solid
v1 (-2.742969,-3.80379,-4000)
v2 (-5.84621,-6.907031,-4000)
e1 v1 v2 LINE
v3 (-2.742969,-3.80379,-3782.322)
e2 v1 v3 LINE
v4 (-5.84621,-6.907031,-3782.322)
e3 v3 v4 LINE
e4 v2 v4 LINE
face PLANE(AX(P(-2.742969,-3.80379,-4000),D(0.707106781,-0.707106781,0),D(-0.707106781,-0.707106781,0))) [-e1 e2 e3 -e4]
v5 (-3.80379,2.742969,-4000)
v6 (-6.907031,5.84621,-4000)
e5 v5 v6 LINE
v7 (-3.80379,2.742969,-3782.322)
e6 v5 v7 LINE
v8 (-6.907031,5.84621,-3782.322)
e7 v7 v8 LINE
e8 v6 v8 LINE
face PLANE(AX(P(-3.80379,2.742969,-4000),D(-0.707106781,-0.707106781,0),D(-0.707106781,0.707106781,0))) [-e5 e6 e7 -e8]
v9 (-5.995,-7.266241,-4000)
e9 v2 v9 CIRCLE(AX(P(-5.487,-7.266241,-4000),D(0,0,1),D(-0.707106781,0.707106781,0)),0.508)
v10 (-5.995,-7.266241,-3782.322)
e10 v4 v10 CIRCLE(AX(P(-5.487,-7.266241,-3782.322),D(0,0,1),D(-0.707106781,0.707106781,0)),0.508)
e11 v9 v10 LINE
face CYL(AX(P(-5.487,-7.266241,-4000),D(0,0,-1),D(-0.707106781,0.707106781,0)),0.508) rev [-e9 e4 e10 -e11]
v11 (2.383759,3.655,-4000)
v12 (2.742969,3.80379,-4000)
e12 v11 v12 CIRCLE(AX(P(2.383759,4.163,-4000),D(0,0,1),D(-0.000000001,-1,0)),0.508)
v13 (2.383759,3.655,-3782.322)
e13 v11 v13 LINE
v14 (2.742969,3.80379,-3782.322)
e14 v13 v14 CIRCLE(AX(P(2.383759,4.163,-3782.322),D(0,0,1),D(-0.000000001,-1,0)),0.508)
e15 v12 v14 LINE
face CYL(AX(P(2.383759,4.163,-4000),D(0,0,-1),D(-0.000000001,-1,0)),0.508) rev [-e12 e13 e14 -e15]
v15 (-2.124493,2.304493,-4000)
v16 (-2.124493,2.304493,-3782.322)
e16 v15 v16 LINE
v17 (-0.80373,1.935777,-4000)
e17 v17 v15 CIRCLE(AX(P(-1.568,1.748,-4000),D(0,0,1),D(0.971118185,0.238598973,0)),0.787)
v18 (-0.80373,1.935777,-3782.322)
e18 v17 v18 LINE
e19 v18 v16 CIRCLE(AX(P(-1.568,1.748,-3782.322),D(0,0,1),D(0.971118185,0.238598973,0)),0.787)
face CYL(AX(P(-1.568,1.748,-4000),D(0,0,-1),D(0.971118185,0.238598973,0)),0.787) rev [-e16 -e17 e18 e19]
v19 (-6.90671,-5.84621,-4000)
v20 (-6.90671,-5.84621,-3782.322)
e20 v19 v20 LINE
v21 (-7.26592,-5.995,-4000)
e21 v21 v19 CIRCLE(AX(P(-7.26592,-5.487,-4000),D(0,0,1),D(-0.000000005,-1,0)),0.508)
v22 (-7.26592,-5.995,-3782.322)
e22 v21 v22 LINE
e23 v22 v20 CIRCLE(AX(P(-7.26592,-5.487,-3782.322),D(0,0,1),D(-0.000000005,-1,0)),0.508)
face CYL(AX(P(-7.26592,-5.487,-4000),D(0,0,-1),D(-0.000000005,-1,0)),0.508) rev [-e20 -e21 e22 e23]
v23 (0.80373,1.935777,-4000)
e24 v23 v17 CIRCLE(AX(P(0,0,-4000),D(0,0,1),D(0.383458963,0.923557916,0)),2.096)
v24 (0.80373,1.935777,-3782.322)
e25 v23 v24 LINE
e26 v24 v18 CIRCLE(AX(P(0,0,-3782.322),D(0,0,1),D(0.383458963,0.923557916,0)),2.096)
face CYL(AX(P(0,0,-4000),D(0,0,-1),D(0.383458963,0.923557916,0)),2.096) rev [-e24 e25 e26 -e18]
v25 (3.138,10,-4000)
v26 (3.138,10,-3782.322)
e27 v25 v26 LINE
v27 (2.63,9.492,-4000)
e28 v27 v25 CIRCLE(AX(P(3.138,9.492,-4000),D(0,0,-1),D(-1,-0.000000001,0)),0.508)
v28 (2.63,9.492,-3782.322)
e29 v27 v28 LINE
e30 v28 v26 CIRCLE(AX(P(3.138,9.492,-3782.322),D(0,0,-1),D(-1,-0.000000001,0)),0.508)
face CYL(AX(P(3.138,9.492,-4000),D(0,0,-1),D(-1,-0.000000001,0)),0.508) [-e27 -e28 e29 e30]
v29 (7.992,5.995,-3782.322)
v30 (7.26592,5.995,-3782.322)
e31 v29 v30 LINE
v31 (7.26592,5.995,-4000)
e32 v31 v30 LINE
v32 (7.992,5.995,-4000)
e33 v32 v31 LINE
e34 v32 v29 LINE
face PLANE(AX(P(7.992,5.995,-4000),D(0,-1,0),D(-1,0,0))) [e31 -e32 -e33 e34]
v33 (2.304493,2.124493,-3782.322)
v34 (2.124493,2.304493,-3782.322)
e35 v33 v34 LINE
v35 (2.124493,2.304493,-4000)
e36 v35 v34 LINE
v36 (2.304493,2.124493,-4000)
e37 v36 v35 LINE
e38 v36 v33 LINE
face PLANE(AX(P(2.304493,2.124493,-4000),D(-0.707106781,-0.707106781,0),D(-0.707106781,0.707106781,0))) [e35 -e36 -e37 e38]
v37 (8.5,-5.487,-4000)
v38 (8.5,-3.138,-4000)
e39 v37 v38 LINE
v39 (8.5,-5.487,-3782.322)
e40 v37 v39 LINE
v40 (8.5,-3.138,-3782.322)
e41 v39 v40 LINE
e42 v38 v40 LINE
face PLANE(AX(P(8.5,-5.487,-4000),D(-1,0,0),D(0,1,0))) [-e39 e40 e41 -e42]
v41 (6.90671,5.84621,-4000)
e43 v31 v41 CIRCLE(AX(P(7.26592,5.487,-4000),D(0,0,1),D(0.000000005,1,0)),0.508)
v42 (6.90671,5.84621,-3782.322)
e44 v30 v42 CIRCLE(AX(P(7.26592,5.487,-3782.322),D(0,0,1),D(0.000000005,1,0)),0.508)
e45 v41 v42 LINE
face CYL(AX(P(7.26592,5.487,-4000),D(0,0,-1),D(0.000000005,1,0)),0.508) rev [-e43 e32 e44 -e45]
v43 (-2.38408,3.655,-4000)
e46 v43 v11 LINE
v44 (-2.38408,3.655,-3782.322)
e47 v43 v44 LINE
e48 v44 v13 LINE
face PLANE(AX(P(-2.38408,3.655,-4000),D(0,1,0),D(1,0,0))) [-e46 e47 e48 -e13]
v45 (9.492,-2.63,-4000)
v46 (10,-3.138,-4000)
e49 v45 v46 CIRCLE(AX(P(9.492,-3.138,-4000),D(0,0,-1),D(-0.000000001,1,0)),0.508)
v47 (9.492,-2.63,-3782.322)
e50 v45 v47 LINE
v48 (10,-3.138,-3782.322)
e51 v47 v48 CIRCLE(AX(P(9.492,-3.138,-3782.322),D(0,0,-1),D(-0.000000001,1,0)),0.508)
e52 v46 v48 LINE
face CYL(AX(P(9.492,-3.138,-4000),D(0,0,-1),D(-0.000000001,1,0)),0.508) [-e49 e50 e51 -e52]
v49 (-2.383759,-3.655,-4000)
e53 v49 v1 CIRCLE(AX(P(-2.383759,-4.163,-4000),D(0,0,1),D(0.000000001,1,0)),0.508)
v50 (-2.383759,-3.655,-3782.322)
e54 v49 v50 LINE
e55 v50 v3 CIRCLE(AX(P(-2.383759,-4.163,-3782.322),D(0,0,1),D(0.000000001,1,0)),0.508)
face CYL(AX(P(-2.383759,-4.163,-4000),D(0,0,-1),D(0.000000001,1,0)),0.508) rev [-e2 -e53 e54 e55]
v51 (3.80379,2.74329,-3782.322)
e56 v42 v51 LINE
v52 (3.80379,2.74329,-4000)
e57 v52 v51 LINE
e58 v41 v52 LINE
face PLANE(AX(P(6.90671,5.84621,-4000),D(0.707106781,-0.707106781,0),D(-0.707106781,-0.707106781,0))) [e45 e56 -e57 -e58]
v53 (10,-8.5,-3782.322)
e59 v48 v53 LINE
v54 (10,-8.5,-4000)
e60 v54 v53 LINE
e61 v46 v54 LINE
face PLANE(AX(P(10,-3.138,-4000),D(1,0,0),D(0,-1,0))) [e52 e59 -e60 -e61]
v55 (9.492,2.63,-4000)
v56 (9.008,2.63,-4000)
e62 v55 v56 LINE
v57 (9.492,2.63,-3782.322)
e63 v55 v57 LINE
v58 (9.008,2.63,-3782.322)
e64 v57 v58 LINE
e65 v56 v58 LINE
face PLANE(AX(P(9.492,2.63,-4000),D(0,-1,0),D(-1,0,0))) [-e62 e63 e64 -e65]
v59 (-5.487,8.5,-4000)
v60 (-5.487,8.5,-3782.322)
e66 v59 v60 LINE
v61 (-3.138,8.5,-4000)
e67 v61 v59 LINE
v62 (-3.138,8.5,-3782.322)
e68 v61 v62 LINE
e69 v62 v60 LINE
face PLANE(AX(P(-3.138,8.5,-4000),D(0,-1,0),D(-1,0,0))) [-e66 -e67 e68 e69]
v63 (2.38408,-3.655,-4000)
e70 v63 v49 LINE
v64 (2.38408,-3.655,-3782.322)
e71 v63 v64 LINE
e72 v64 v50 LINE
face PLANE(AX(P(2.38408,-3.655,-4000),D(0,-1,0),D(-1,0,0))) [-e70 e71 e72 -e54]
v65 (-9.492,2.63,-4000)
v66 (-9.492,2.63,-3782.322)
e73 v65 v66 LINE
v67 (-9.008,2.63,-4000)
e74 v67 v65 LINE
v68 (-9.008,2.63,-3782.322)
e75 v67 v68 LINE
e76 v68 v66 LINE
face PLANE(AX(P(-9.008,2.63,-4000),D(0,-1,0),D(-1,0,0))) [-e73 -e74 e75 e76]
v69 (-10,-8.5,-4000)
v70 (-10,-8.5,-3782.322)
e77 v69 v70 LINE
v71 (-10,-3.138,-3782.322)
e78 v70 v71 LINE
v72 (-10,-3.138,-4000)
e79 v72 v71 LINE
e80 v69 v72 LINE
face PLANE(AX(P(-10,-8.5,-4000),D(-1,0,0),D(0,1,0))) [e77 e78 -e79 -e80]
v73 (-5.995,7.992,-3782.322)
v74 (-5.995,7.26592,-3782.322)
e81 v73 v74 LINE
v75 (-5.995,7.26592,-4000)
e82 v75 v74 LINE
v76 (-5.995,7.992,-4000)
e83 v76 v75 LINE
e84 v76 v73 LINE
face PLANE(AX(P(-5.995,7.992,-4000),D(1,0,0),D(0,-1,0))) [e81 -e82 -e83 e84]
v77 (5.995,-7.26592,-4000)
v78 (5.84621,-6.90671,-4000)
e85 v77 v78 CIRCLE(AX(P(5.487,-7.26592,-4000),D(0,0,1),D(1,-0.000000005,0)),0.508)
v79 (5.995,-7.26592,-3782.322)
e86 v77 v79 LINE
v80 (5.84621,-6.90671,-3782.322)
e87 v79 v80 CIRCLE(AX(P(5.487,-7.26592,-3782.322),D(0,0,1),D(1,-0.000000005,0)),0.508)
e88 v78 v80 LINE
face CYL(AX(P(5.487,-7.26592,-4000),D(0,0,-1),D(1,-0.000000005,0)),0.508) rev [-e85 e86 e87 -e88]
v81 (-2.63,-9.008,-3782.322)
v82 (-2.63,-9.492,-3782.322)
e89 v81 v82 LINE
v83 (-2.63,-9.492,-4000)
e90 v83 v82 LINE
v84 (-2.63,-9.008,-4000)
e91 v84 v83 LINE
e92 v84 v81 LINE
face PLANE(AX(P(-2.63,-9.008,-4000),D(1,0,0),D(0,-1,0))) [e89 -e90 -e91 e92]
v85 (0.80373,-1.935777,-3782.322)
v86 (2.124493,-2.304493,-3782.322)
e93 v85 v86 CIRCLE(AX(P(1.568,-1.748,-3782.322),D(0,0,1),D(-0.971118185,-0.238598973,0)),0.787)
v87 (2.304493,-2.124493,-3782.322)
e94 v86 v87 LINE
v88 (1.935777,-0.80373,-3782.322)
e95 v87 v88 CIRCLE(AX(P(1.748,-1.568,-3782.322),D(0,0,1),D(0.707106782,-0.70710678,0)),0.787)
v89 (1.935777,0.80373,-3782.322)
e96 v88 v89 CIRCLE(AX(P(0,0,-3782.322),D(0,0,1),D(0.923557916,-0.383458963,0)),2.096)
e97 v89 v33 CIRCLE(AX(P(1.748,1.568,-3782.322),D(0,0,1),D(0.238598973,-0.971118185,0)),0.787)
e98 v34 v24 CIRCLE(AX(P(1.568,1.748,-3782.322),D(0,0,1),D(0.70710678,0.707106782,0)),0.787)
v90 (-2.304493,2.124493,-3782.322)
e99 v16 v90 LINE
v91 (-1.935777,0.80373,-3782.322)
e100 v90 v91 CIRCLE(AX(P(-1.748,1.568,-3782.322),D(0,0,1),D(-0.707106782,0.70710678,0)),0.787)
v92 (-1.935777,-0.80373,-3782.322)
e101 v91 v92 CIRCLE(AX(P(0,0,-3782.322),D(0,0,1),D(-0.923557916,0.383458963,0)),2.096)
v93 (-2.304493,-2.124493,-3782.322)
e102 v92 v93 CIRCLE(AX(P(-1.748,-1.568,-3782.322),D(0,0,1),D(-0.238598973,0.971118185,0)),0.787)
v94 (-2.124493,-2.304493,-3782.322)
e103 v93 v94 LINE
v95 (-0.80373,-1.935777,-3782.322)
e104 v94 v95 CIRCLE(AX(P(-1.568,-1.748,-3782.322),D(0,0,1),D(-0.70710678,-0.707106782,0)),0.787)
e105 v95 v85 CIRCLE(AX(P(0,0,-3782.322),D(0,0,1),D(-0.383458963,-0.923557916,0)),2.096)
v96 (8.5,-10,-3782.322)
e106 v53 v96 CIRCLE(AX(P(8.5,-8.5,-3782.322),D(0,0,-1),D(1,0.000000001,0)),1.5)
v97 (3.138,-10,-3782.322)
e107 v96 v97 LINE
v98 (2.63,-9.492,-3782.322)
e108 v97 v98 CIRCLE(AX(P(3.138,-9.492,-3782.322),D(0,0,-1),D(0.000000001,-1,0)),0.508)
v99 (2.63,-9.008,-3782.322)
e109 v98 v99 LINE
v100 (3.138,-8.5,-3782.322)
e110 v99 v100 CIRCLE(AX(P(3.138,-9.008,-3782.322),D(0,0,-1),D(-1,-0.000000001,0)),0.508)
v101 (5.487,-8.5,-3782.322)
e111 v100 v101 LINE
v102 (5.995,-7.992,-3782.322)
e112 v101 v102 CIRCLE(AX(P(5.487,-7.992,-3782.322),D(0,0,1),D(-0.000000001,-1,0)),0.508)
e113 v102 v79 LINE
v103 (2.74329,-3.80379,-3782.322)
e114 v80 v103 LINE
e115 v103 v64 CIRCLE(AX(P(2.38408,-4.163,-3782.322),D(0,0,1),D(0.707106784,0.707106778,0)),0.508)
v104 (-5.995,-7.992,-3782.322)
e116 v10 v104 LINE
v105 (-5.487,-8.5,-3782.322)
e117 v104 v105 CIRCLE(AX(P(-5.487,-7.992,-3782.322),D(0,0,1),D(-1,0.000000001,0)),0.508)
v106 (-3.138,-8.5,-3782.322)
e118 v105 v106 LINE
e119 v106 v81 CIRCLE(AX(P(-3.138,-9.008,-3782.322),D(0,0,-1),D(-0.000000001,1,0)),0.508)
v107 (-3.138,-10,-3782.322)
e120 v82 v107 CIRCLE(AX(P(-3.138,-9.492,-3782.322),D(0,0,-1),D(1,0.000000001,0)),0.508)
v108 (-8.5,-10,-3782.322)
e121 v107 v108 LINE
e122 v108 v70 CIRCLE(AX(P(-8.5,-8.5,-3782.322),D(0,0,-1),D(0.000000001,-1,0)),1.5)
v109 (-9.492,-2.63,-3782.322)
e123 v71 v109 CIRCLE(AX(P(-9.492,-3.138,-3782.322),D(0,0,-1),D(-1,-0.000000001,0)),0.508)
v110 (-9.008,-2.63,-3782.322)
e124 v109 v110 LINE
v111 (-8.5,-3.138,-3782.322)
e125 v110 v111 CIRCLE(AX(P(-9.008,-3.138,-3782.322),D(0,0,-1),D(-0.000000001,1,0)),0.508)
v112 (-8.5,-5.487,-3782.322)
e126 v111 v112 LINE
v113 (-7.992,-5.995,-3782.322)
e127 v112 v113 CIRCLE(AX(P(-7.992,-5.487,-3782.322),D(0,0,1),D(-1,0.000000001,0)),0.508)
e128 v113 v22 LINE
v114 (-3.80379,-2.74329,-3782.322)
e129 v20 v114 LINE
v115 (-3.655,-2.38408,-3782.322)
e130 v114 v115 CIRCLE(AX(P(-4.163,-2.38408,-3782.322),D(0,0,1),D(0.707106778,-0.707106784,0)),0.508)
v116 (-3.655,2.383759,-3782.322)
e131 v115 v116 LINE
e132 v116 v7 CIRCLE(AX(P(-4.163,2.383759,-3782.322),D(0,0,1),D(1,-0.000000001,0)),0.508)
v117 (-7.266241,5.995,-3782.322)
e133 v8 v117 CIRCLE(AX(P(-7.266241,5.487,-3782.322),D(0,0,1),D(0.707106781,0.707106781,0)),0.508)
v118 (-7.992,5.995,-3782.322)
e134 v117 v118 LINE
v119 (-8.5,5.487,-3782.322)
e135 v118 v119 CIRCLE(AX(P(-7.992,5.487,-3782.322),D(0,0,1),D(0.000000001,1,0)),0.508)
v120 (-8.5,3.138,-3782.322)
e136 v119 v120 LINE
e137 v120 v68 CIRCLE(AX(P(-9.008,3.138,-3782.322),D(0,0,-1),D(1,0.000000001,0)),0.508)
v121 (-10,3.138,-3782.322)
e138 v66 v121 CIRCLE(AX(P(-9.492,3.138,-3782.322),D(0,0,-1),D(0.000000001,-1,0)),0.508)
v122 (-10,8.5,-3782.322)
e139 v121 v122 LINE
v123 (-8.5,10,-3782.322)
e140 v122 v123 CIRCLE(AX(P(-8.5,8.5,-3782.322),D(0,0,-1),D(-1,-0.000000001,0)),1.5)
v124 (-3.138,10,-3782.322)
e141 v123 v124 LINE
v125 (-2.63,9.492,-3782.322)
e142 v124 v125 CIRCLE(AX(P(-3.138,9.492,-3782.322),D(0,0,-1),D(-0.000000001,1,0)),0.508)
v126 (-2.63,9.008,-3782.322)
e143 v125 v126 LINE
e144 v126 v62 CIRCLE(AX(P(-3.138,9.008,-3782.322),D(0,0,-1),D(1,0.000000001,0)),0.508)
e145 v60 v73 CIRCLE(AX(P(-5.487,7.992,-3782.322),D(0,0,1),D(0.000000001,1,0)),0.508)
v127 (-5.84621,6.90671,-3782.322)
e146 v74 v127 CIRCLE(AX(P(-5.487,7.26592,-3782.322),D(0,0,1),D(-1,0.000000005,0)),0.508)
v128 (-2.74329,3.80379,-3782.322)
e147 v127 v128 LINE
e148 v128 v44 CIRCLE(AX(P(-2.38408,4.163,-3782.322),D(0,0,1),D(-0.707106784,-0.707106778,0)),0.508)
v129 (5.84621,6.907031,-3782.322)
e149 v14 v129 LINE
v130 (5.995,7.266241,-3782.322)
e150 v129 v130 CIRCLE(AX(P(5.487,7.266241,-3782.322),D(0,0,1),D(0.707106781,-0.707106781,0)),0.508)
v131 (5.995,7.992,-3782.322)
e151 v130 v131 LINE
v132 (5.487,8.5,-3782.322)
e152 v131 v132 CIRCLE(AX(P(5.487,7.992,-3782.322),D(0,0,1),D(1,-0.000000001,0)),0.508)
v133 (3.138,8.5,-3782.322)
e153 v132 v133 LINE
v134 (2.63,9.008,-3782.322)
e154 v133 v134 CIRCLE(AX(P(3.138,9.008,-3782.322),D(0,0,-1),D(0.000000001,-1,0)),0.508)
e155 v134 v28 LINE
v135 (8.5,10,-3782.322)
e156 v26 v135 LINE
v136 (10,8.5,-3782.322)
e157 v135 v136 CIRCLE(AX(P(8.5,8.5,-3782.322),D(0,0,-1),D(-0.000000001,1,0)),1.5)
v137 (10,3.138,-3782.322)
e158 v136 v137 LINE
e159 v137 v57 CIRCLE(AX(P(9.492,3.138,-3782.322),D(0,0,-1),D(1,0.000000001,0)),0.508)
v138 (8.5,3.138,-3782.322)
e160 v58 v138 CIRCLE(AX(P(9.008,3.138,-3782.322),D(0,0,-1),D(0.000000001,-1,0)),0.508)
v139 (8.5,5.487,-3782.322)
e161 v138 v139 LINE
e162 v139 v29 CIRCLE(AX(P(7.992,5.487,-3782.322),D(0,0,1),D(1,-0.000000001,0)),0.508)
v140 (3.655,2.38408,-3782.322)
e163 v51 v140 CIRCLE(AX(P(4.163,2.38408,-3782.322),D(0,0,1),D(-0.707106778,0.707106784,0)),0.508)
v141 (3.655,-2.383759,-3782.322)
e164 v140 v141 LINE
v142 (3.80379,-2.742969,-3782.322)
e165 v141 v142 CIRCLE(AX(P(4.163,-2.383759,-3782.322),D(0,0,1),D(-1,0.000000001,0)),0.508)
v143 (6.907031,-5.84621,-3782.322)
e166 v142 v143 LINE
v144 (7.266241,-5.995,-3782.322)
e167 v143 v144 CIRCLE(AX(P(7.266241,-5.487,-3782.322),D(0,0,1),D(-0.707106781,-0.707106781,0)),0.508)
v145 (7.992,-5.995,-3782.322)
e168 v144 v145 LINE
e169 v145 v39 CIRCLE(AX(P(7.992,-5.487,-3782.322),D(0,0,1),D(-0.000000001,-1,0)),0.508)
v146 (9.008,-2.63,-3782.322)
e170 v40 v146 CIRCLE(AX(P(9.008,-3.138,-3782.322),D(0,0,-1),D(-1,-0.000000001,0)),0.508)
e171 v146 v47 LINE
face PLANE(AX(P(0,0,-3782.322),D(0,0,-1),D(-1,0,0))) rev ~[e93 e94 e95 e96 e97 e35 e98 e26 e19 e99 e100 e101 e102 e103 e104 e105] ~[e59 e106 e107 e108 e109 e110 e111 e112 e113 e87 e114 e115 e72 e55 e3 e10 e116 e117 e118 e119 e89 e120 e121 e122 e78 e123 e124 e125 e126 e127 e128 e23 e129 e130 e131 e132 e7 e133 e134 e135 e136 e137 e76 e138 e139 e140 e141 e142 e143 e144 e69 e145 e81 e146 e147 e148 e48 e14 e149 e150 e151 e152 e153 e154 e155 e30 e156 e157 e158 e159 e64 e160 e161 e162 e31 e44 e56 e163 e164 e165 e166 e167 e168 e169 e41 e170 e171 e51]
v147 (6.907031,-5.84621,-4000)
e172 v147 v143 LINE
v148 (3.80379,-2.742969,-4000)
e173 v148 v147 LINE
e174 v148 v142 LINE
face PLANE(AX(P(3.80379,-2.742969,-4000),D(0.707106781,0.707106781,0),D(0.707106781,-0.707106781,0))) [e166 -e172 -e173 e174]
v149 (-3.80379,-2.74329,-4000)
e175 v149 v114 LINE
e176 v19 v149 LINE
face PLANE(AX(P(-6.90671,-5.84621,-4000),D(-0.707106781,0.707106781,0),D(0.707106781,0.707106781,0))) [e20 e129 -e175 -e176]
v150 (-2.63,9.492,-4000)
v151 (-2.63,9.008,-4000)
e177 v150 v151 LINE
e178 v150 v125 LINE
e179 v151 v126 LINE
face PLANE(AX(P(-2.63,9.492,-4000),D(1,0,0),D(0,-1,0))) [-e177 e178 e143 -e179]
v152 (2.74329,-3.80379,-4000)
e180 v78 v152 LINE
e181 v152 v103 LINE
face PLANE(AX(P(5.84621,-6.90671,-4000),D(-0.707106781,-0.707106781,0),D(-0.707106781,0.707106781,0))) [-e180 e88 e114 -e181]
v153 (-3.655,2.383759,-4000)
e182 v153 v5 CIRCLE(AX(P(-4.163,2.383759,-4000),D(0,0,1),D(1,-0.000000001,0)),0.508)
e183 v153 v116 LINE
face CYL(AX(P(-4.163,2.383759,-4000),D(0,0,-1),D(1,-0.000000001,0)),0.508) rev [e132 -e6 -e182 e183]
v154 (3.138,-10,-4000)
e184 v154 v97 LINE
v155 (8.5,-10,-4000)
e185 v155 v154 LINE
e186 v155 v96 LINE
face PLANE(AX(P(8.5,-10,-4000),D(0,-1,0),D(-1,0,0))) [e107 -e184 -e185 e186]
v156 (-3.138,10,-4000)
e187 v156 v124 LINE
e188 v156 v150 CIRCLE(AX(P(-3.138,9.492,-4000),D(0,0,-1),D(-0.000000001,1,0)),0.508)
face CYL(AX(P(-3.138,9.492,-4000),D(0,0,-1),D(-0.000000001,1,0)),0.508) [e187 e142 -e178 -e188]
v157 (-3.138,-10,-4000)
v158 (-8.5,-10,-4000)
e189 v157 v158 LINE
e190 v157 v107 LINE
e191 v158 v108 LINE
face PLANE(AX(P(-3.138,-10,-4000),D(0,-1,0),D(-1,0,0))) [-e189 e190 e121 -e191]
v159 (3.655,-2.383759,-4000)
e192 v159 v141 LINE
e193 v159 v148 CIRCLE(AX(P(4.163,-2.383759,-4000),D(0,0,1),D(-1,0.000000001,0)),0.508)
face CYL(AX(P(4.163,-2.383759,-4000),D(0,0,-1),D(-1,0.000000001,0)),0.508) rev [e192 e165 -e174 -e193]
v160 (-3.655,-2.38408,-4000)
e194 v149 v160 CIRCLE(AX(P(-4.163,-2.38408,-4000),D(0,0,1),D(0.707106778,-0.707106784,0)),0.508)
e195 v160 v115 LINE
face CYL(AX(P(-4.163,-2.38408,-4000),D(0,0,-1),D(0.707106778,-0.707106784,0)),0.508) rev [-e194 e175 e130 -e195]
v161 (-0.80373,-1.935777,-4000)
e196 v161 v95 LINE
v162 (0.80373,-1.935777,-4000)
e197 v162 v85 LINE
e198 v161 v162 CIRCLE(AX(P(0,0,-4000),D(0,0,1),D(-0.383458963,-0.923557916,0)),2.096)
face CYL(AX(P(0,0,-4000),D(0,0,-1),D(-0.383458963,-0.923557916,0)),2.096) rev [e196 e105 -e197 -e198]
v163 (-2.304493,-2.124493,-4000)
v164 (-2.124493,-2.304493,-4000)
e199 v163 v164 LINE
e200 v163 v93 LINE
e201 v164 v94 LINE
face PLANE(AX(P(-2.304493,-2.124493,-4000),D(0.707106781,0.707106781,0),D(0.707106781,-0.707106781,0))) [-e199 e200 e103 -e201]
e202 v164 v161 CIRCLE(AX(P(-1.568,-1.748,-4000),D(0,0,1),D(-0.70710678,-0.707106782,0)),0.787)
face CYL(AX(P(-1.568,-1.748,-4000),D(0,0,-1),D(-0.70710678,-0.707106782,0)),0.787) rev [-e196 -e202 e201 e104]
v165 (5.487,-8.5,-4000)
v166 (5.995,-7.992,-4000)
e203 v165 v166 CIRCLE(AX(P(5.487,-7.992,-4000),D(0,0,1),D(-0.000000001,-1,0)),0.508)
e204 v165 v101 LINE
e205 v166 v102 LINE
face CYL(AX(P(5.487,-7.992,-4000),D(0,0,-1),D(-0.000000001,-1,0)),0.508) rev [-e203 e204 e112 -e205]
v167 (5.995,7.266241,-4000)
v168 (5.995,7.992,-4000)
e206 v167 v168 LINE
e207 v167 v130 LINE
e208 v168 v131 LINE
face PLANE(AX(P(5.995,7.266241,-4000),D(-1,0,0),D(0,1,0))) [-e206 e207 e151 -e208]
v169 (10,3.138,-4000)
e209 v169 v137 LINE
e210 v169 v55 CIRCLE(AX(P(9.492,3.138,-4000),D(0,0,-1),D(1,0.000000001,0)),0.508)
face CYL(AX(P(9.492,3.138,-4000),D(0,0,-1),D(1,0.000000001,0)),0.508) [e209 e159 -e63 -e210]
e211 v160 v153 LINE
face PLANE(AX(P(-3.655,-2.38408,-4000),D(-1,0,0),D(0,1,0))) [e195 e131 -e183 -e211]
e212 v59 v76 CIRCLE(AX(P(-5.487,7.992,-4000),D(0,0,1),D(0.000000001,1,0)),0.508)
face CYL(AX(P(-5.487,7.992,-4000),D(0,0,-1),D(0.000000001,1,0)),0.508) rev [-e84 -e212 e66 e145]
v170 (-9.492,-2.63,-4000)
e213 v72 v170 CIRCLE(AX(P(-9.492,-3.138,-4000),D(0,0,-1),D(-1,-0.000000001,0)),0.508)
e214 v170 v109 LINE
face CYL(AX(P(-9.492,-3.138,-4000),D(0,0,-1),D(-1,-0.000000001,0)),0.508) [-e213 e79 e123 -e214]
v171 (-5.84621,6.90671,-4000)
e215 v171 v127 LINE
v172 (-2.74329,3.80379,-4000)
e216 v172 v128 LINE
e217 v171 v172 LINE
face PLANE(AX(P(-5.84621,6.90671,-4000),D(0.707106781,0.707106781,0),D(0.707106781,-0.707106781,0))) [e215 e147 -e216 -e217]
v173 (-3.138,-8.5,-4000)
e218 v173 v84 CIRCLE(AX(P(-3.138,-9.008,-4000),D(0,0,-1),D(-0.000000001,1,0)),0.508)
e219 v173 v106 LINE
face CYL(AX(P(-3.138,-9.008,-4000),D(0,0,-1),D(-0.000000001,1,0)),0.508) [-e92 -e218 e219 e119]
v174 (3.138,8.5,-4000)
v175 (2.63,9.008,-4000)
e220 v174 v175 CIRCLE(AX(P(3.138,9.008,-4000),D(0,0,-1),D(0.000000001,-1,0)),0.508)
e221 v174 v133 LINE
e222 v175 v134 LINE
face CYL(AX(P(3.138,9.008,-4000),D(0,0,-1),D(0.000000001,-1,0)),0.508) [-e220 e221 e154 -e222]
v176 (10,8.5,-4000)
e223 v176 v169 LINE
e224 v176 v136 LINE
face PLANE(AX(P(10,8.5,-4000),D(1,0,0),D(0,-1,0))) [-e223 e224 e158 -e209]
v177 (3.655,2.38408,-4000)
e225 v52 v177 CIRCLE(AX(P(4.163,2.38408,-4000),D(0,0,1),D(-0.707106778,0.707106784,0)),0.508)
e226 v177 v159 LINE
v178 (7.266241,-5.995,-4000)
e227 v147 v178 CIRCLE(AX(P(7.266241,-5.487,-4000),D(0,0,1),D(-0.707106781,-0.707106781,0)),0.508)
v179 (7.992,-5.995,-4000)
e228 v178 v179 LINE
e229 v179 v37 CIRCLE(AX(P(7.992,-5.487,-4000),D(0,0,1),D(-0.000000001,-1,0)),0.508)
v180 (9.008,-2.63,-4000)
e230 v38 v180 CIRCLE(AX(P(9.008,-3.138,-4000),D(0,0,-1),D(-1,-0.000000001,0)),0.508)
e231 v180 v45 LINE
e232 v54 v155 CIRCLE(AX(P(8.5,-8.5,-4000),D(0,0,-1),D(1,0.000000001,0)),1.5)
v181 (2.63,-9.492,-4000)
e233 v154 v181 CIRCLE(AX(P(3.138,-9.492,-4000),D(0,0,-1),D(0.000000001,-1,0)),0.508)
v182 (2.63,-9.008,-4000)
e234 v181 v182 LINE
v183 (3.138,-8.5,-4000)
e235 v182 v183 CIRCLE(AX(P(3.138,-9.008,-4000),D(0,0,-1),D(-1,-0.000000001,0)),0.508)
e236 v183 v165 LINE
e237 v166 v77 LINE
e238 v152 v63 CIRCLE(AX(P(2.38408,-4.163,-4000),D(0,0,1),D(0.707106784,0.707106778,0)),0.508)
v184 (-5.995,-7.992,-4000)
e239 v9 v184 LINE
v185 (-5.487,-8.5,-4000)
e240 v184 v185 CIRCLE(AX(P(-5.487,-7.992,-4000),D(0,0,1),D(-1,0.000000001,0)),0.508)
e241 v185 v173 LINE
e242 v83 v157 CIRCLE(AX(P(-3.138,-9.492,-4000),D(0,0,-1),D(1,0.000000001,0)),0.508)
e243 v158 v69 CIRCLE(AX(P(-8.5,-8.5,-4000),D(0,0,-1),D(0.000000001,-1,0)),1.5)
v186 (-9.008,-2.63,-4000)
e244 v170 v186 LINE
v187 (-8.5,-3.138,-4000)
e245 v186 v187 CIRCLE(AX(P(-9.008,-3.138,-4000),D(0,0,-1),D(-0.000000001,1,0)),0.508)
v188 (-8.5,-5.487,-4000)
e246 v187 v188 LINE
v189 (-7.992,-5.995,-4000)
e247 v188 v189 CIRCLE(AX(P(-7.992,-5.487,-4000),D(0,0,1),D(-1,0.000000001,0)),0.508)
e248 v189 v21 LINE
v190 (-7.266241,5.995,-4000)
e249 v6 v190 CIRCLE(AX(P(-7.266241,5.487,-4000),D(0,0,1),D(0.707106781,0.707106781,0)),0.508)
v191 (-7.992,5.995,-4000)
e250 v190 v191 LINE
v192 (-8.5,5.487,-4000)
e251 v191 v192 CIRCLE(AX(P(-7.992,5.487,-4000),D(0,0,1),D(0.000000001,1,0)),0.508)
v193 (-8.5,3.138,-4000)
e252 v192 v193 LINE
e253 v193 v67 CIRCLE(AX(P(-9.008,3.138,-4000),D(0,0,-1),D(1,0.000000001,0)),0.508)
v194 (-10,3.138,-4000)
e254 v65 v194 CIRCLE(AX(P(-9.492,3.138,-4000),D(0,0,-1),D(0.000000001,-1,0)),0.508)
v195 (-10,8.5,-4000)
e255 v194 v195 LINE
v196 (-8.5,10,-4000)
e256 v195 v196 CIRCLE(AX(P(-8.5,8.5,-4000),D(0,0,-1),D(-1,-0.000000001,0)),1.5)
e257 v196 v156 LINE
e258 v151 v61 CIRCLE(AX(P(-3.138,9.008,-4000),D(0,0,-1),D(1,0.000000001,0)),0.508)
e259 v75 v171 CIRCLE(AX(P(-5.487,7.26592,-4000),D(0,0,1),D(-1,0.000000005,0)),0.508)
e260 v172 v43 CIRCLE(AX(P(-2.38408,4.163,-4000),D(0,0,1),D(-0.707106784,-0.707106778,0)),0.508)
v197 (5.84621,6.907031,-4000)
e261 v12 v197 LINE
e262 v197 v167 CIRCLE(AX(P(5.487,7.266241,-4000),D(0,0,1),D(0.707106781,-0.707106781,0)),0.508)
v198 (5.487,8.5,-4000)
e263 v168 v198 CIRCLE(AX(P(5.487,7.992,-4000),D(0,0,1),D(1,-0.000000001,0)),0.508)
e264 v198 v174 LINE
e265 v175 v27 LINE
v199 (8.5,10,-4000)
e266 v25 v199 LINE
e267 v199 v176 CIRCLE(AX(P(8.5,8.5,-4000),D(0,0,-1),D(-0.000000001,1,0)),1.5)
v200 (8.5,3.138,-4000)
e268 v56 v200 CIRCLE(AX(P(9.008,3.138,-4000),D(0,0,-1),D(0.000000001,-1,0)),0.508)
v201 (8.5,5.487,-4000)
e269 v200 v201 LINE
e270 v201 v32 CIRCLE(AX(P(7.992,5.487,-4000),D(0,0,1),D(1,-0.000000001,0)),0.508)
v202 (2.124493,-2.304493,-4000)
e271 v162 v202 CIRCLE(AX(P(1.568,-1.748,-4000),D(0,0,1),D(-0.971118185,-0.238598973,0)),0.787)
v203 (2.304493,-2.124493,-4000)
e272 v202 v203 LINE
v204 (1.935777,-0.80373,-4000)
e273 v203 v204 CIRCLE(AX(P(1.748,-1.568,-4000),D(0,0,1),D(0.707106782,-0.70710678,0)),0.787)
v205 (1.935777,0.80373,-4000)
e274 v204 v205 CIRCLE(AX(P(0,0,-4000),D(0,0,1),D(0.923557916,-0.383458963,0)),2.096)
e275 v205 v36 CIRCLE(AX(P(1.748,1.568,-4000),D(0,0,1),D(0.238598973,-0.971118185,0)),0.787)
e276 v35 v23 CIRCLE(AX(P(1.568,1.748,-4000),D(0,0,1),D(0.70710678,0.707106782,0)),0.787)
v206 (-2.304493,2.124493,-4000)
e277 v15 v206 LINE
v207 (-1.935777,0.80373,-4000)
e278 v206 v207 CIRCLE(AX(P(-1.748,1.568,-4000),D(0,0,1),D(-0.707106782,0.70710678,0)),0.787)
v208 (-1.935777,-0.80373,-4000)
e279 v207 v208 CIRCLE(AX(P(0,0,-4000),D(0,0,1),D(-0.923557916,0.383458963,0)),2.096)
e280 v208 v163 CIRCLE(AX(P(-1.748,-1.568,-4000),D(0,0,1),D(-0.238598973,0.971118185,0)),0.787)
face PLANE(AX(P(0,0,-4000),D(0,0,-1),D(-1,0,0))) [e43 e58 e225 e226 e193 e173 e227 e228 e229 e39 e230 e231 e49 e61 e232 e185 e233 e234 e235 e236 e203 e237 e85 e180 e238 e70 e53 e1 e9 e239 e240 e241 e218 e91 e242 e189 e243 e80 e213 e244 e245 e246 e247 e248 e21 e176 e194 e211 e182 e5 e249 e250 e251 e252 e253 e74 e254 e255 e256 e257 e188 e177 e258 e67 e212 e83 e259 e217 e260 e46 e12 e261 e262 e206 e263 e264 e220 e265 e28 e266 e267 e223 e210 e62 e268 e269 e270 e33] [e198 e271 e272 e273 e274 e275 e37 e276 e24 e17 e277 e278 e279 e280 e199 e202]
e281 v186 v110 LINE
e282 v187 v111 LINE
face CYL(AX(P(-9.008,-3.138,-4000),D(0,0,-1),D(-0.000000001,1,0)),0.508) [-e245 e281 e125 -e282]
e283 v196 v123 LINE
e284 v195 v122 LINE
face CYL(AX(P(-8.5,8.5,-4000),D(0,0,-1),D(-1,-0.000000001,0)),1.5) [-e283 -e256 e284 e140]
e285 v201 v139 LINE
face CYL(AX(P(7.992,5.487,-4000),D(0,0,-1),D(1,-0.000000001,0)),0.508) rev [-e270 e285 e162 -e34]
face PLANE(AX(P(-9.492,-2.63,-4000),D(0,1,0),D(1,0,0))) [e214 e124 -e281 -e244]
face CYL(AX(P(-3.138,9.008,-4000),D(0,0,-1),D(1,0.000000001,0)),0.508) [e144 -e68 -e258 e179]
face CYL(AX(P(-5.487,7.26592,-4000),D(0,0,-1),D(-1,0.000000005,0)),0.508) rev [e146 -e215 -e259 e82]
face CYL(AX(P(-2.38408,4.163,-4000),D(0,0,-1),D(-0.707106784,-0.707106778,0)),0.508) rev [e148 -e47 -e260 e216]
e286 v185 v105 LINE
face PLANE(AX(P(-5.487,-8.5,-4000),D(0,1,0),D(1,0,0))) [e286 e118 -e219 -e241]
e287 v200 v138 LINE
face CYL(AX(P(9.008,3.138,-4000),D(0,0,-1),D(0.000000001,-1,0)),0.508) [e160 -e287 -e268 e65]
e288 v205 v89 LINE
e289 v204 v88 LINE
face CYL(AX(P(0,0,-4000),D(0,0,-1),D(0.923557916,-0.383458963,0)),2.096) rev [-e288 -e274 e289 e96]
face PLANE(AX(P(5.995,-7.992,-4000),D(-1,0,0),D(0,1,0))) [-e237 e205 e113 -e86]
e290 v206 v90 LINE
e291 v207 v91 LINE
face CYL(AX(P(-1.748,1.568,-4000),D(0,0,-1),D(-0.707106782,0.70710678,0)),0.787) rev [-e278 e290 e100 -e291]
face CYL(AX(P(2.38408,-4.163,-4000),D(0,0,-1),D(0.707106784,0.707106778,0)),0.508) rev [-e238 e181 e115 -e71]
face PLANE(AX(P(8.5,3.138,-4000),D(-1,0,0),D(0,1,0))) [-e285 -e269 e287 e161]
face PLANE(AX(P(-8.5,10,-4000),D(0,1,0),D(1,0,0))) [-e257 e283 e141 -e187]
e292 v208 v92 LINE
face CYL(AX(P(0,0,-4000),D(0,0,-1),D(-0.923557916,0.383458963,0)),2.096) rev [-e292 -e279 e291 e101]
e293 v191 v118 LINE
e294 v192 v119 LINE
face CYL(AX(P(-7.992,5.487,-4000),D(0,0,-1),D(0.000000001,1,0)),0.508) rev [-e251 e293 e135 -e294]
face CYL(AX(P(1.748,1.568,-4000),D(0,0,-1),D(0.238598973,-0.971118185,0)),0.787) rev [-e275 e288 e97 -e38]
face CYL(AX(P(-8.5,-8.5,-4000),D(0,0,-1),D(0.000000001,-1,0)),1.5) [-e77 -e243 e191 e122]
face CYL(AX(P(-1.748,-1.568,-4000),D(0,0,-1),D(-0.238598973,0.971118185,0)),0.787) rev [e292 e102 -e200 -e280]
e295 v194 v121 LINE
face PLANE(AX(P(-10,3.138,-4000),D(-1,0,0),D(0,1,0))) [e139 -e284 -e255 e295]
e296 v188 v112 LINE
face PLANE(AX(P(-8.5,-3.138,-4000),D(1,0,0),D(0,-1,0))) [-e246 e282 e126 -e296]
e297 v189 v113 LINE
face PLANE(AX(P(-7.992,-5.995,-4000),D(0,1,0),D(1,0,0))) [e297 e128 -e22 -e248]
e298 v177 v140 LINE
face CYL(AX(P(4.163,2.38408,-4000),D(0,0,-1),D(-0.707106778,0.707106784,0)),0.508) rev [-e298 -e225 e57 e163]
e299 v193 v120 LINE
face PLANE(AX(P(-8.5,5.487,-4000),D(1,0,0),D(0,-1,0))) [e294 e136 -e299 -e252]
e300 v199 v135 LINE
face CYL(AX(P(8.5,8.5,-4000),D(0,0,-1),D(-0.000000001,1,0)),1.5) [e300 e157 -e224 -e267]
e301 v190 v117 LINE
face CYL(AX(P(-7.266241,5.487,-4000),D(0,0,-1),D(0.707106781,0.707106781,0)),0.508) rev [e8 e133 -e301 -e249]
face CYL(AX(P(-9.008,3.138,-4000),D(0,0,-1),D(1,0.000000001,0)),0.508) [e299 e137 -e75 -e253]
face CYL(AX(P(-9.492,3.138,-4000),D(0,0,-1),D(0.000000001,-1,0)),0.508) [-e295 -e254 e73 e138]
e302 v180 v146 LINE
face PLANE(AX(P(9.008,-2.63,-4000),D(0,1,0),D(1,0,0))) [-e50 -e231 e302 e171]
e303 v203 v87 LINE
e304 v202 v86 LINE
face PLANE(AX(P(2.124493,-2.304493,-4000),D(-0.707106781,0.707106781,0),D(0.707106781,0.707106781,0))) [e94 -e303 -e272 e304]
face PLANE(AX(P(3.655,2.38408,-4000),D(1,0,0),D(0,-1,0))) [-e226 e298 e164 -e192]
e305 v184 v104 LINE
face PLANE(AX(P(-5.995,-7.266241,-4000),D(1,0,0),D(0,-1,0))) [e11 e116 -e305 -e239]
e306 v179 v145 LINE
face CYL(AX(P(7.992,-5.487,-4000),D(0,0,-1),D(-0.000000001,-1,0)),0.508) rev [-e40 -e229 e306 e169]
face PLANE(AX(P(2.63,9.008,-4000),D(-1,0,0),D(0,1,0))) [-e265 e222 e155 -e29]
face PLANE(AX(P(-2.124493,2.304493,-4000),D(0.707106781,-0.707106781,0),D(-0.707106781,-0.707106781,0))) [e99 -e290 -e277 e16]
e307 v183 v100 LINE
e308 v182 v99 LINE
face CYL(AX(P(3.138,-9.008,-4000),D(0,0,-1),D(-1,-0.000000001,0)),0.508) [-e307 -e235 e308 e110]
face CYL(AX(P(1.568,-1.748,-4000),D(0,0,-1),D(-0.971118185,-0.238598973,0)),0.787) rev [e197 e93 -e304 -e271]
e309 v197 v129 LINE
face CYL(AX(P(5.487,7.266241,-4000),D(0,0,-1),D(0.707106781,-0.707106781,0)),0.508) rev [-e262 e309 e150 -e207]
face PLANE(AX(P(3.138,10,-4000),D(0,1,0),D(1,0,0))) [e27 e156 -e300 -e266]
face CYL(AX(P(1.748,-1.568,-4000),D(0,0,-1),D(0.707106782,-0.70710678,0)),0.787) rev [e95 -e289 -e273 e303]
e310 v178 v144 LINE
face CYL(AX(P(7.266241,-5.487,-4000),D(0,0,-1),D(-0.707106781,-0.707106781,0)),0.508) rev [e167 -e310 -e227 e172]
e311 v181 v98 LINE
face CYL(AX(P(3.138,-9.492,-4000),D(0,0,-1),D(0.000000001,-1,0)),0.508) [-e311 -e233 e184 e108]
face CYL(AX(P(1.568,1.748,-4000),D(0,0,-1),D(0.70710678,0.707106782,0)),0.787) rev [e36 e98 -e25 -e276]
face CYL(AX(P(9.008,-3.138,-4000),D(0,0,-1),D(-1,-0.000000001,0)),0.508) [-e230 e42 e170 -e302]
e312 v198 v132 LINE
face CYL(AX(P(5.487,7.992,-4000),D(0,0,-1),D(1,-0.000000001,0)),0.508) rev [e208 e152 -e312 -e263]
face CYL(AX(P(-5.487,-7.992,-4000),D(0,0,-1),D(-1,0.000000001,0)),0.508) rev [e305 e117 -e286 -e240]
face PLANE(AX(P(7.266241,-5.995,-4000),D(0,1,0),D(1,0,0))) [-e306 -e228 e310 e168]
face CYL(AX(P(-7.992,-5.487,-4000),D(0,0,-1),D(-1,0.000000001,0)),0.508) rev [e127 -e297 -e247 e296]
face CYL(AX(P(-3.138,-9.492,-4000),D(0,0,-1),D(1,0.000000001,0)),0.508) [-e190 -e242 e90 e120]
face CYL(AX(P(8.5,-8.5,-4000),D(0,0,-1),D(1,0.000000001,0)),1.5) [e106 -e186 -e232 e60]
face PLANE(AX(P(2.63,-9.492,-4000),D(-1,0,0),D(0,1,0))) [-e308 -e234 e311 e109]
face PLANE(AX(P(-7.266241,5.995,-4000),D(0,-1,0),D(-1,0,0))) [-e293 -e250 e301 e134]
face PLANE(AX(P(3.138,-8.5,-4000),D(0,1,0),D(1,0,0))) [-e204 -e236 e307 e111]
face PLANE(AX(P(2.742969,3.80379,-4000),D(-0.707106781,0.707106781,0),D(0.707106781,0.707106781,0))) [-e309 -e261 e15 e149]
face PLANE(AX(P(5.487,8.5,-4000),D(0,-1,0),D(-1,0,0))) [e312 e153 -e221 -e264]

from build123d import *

# Parameters (mm, degrees)
BOSS_EXTRUDE1_DEPTH = 217.678


with BuildPart() as part:
    # Sketch1 → Boss-Extrude1 (new body)
    with BuildSketch(Plane(origin=(0, 0, -4000), x_dir=(-1, 0, 0), z_dir=(0, 0, -1))):
        with BuildLine():
            Line((10, -8.5), (10, -3.138))
            ThreePointArc((10, -3.138), (9.851210245, -2.778789755), (9.492, -2.63))
            Line((9.492, -2.63), (9.008, -2.63))
            ThreePointArc((9.008, -2.63), (8.648789755, -2.778789755), (8.5, -3.138))
            Line((8.5, -3.138), (8.5, -5.487))
            ThreePointArc((8.5, -5.487), (8.351210245, -5.846210245), (7.992, -5.995))
            Line((7.992, -5.995), (7.26592049, -5.995))
            ThreePointArc((7.26592049, -5.995), (7.071517306, -5.956330803), (6.906710245, -5.846210245))
            Line((6.906710245, -5.846210245), (3.803789755, -2.743289755))
            ThreePointArc((3.803789755, -2.743289755), (3.693669197, -2.578482694), (3.655, -2.38407951))
            Line((3.655, -2.38407951), (3.655, 2.383759167))
            ThreePointArc((3.655, 2.383759167), (3.693669197, 2.57816235), (3.803789755, 2.742969412))
            Line((3.803789755, 2.742969412), (6.907030588, 5.846210245))
            ThreePointArc((6.907030588, 5.846210245), (7.07183765, 5.956330803), (7.266240833, 5.995))
            Line((7.266240833, 5.995), (7.992, 5.995))
            ThreePointArc((7.992, 5.995), (8.351210245, 5.846210245), (8.5, 5.487))
            Line((8.5, 5.487), (8.5, 3.138))
            ThreePointArc((8.5, 3.138), (8.648789755, 2.778789755), (9.008, 2.63))
            Line((9.008, 2.63), (9.492, 2.63))
            ThreePointArc((9.492, 2.63), (9.851210245, 2.778789755), (10, 3.138))
            Line((10, 3.138), (10, 8.5))
            ThreePointArc((10, 8.5), (9.560660172, 9.560660172), (8.5, 10))
            Line((8.5, 10), (3.138, 10))
            ThreePointArc((3.138, 10), (2.778789755, 9.851210245), (2.63, 9.492))
            Line((2.63, 9.492), (2.63, 9.008))
            ThreePointArc((2.63, 9.008), (2.778789755, 8.648789755), (3.138, 8.5))
            Line((3.138, 8.5), (5.487, 8.5))
            ThreePointArc((5.487, 8.5), (5.846210245, 8.351210245), (5.995, 7.992))
            Line((5.995, 7.992), (5.995, 7.26592049))
            ThreePointArc((5.995, 7.26592049), (5.956330803, 7.071517306), (5.846210245, 6.906710245))
            Line((5.846210245, 6.906710245), (2.743289755, 3.803789755))
            ThreePointArc((2.743289755, 3.803789755), (2.578482694, 3.693669197), (2.38407951, 3.655))
            Line((2.38407951, 3.655), (-2.383759167, 3.655))
            ThreePointArc((-2.383759167, 3.655), (-2.57816235, 3.693669197), (-2.742969412, 3.803789755))
            Line((-2.742969412, 3.803789755), (-5.846210245, 6.907030588))
            ThreePointArc((-5.846210245, 6.907030588), (-5.956330803, 7.07183765), (-5.995, 7.266240833))
            Line((-5.995, 7.266240833), (-5.995, 7.992))
            ThreePointArc((-5.995, 7.992), (-5.846210245, 8.351210245), (-5.487, 8.5))
            Line((-5.487, 8.5), (-3.138, 8.5))
            ThreePointArc((-3.138, 8.5), (-2.778789755, 8.648789755), (-2.63, 9.008))
            Line((-2.63, 9.008), (-2.63, 9.492))
            ThreePointArc((-2.63, 9.492), (-2.778789755, 9.851210245), (-3.138, 10))
            Line((-3.138, 10), (-8.5, 10))
            ThreePointArc((-8.5, 10), (-9.560660172, 9.560660172), (-10, 8.5))
            Line((-10, 8.5), (-10, 3.138))
            ThreePointArc((-10, 3.138), (-9.851210245, 2.778789755), (-9.492, 2.63))
            Line((-9.492, 2.63), (-9.008, 2.63))
            ThreePointArc((-9.008, 2.63), (-8.648789755, 2.778789755), (-8.5, 3.138))
            Line((-8.5, 3.138), (-8.5, 5.487))
            ThreePointArc((-8.5, 5.487), (-8.351210245, 5.846210245), (-7.992, 5.995))
            Line((-7.992, 5.995), (-7.26592049, 5.995))
            ThreePointArc((-7.26592049, 5.995), (-7.071517306, 5.956330803), (-6.906710245, 5.846210245))
            Line((-6.906710245, 5.846210245), (-3.803789755, 2.743289755))
            ThreePointArc((-3.803789755, 2.743289755), (-3.693669197, 2.578482694), (-3.655, 2.38407951))
            Line((-3.655, 2.38407951), (-3.655, -2.383759167))
            ThreePointArc((-3.655, -2.383759167), (-3.693669197, -2.57816235), (-3.803789755, -2.742969412))
            Line((-3.803789755, -2.742969412), (-6.907030588, -5.846210245))
            ThreePointArc((-6.907030588, -5.846210245), (-7.07183765, -5.956330803), (-7.266240833, -5.995))
            Line((-7.266240833, -5.995), (-7.992, -5.995))
            ThreePointArc((-7.992, -5.995), (-8.351210245, -5.846210245), (-8.5, -5.487))
            Line((-8.5, -5.487), (-8.5, -3.138))
            ThreePointArc((-8.5, -3.138), (-8.648789755, -2.778789755), (-9.008, -2.63))
            Line((-9.008, -2.63), (-9.492, -2.63))
            ThreePointArc((-9.492, -2.63), (-9.851210245, -2.778789755), (-10, -3.138))
            Line((-10, -3.138), (-10, -8.5))
            ThreePointArc((-10, -8.5), (-9.560660172, -9.560660172), (-8.5, -10))
            Line((-8.5, -10), (-3.138, -10))
            ThreePointArc((-3.138, -10), (-2.778789755, -9.851210245), (-2.63, -9.492))
            Line((-2.63, -9.492), (-2.63, -9.008))
            ThreePointArc((-2.63, -9.008), (-2.778789755, -8.648789755), (-3.138, -8.5))
            Line((-3.138, -8.5), (-5.487, -8.5))
            ThreePointArc((-5.487, -8.5), (-5.846210245, -8.351210245), (-5.995, -7.992))
            Line((-5.995, -7.992), (-5.995, -7.26592049))
            ThreePointArc((-5.995, -7.26592049), (-5.956330803, -7.071517306), (-5.846210245, -6.906710245))
            Line((-5.846210245, -6.906710245), (-2.743289755, -3.803789755))
            ThreePointArc((-2.743289755, -3.803789755), (-2.578482694, -3.693669197), (-2.38407951, -3.655))
            Line((-2.38407951, -3.655), (2.383759167, -3.655))
            ThreePointArc((2.383759167, -3.655), (2.57816235, -3.693669197), (2.742969412, -3.803789755))
            Line((2.742969412, -3.803789755), (5.846210245, -6.907030588))
            ThreePointArc((5.846210245, -6.907030588), (5.956330803, -7.07183765), (5.995, -7.266240833))
            Line((5.995, -7.266240833), (5.995, -7.992))
            ThreePointArc((5.995, -7.992), (5.846210245, -8.351210245), (5.487, -8.5))
            Line((5.487, -8.5), (3.138, -8.5))
            ThreePointArc((3.138, -8.5), (2.778789755, -8.648789755), (2.63, -9.008))
            Line((2.63, -9.008), (2.63, -9.492))
            ThreePointArc((2.63, -9.492), (2.778789755, -9.851210245), (3.138, -10))
            Line((3.138, -10), (8.5, -10))
            ThreePointArc((8.5, -10), (9.560660172, -9.560660172), (10, -8.5))
        make_face()
        with BuildLine():
            Line((2.304493037, -2.124493037), (2.124493037, -2.304493037))
            ThreePointArc((2.124493037, -2.304493037), (1.35638567, -2.506016078), (0.803729988, -1.935777391))
            ThreePointArc((0.803729988, -1.935777391), (0, -2.096), (-0.803729988, -1.935777391))
            ThreePointArc((-0.803729988, -1.935777391), (-1.35638567, -2.506016078), (-2.124493037, -2.304493037))
            Line((-2.124493037, -2.304493037), (-2.304493037, -2.124493037))
            ThreePointArc((-2.304493037, -2.124493037), (-2.506016078, -1.35638567), (-1.935777391, -0.803729988))
            ThreePointArc((-1.935777391, -0.803729988), (-2.096, 0), (-1.935777391, 0.803729988))
            ThreePointArc((-1.935777391, 0.803729988), (-2.506016078, 1.35638567), (-2.304493037, 2.124493037))
            Line((-2.304493037, 2.124493037), (-2.124493037, 2.304493037))
            ThreePointArc((-2.124493037, 2.304493037), (-1.35638567, 2.506016078), (-0.803729988, 1.935777391))
            ThreePointArc((-0.803729988, 1.935777391), (0, 2.096), (0.803729988, 1.935777391))
            ThreePointArc((0.803729988, 1.935777391), (1.35638567, 2.506016078), (2.124493037, 2.304493037))
            Line((2.124493037, 2.304493037), (2.304493037, 2.124493037))
            ThreePointArc((2.304493037, 2.124493037), (2.506016078, 1.35638567), (1.935777391, 0.803729988))
            ThreePointArc((1.935777391, 0.803729988), (2.096, 0), (1.935777391, -0.803729988))
            ThreePointArc((1.935777391, -0.803729988), (2.506016078, -1.35638567), (2.304493037, -2.124493037))
        make_face(mode=Mode.SUBTRACT)
    extrude(amount=-BOSS_EXTRUDE1_DEPTH)


solid = part.part
